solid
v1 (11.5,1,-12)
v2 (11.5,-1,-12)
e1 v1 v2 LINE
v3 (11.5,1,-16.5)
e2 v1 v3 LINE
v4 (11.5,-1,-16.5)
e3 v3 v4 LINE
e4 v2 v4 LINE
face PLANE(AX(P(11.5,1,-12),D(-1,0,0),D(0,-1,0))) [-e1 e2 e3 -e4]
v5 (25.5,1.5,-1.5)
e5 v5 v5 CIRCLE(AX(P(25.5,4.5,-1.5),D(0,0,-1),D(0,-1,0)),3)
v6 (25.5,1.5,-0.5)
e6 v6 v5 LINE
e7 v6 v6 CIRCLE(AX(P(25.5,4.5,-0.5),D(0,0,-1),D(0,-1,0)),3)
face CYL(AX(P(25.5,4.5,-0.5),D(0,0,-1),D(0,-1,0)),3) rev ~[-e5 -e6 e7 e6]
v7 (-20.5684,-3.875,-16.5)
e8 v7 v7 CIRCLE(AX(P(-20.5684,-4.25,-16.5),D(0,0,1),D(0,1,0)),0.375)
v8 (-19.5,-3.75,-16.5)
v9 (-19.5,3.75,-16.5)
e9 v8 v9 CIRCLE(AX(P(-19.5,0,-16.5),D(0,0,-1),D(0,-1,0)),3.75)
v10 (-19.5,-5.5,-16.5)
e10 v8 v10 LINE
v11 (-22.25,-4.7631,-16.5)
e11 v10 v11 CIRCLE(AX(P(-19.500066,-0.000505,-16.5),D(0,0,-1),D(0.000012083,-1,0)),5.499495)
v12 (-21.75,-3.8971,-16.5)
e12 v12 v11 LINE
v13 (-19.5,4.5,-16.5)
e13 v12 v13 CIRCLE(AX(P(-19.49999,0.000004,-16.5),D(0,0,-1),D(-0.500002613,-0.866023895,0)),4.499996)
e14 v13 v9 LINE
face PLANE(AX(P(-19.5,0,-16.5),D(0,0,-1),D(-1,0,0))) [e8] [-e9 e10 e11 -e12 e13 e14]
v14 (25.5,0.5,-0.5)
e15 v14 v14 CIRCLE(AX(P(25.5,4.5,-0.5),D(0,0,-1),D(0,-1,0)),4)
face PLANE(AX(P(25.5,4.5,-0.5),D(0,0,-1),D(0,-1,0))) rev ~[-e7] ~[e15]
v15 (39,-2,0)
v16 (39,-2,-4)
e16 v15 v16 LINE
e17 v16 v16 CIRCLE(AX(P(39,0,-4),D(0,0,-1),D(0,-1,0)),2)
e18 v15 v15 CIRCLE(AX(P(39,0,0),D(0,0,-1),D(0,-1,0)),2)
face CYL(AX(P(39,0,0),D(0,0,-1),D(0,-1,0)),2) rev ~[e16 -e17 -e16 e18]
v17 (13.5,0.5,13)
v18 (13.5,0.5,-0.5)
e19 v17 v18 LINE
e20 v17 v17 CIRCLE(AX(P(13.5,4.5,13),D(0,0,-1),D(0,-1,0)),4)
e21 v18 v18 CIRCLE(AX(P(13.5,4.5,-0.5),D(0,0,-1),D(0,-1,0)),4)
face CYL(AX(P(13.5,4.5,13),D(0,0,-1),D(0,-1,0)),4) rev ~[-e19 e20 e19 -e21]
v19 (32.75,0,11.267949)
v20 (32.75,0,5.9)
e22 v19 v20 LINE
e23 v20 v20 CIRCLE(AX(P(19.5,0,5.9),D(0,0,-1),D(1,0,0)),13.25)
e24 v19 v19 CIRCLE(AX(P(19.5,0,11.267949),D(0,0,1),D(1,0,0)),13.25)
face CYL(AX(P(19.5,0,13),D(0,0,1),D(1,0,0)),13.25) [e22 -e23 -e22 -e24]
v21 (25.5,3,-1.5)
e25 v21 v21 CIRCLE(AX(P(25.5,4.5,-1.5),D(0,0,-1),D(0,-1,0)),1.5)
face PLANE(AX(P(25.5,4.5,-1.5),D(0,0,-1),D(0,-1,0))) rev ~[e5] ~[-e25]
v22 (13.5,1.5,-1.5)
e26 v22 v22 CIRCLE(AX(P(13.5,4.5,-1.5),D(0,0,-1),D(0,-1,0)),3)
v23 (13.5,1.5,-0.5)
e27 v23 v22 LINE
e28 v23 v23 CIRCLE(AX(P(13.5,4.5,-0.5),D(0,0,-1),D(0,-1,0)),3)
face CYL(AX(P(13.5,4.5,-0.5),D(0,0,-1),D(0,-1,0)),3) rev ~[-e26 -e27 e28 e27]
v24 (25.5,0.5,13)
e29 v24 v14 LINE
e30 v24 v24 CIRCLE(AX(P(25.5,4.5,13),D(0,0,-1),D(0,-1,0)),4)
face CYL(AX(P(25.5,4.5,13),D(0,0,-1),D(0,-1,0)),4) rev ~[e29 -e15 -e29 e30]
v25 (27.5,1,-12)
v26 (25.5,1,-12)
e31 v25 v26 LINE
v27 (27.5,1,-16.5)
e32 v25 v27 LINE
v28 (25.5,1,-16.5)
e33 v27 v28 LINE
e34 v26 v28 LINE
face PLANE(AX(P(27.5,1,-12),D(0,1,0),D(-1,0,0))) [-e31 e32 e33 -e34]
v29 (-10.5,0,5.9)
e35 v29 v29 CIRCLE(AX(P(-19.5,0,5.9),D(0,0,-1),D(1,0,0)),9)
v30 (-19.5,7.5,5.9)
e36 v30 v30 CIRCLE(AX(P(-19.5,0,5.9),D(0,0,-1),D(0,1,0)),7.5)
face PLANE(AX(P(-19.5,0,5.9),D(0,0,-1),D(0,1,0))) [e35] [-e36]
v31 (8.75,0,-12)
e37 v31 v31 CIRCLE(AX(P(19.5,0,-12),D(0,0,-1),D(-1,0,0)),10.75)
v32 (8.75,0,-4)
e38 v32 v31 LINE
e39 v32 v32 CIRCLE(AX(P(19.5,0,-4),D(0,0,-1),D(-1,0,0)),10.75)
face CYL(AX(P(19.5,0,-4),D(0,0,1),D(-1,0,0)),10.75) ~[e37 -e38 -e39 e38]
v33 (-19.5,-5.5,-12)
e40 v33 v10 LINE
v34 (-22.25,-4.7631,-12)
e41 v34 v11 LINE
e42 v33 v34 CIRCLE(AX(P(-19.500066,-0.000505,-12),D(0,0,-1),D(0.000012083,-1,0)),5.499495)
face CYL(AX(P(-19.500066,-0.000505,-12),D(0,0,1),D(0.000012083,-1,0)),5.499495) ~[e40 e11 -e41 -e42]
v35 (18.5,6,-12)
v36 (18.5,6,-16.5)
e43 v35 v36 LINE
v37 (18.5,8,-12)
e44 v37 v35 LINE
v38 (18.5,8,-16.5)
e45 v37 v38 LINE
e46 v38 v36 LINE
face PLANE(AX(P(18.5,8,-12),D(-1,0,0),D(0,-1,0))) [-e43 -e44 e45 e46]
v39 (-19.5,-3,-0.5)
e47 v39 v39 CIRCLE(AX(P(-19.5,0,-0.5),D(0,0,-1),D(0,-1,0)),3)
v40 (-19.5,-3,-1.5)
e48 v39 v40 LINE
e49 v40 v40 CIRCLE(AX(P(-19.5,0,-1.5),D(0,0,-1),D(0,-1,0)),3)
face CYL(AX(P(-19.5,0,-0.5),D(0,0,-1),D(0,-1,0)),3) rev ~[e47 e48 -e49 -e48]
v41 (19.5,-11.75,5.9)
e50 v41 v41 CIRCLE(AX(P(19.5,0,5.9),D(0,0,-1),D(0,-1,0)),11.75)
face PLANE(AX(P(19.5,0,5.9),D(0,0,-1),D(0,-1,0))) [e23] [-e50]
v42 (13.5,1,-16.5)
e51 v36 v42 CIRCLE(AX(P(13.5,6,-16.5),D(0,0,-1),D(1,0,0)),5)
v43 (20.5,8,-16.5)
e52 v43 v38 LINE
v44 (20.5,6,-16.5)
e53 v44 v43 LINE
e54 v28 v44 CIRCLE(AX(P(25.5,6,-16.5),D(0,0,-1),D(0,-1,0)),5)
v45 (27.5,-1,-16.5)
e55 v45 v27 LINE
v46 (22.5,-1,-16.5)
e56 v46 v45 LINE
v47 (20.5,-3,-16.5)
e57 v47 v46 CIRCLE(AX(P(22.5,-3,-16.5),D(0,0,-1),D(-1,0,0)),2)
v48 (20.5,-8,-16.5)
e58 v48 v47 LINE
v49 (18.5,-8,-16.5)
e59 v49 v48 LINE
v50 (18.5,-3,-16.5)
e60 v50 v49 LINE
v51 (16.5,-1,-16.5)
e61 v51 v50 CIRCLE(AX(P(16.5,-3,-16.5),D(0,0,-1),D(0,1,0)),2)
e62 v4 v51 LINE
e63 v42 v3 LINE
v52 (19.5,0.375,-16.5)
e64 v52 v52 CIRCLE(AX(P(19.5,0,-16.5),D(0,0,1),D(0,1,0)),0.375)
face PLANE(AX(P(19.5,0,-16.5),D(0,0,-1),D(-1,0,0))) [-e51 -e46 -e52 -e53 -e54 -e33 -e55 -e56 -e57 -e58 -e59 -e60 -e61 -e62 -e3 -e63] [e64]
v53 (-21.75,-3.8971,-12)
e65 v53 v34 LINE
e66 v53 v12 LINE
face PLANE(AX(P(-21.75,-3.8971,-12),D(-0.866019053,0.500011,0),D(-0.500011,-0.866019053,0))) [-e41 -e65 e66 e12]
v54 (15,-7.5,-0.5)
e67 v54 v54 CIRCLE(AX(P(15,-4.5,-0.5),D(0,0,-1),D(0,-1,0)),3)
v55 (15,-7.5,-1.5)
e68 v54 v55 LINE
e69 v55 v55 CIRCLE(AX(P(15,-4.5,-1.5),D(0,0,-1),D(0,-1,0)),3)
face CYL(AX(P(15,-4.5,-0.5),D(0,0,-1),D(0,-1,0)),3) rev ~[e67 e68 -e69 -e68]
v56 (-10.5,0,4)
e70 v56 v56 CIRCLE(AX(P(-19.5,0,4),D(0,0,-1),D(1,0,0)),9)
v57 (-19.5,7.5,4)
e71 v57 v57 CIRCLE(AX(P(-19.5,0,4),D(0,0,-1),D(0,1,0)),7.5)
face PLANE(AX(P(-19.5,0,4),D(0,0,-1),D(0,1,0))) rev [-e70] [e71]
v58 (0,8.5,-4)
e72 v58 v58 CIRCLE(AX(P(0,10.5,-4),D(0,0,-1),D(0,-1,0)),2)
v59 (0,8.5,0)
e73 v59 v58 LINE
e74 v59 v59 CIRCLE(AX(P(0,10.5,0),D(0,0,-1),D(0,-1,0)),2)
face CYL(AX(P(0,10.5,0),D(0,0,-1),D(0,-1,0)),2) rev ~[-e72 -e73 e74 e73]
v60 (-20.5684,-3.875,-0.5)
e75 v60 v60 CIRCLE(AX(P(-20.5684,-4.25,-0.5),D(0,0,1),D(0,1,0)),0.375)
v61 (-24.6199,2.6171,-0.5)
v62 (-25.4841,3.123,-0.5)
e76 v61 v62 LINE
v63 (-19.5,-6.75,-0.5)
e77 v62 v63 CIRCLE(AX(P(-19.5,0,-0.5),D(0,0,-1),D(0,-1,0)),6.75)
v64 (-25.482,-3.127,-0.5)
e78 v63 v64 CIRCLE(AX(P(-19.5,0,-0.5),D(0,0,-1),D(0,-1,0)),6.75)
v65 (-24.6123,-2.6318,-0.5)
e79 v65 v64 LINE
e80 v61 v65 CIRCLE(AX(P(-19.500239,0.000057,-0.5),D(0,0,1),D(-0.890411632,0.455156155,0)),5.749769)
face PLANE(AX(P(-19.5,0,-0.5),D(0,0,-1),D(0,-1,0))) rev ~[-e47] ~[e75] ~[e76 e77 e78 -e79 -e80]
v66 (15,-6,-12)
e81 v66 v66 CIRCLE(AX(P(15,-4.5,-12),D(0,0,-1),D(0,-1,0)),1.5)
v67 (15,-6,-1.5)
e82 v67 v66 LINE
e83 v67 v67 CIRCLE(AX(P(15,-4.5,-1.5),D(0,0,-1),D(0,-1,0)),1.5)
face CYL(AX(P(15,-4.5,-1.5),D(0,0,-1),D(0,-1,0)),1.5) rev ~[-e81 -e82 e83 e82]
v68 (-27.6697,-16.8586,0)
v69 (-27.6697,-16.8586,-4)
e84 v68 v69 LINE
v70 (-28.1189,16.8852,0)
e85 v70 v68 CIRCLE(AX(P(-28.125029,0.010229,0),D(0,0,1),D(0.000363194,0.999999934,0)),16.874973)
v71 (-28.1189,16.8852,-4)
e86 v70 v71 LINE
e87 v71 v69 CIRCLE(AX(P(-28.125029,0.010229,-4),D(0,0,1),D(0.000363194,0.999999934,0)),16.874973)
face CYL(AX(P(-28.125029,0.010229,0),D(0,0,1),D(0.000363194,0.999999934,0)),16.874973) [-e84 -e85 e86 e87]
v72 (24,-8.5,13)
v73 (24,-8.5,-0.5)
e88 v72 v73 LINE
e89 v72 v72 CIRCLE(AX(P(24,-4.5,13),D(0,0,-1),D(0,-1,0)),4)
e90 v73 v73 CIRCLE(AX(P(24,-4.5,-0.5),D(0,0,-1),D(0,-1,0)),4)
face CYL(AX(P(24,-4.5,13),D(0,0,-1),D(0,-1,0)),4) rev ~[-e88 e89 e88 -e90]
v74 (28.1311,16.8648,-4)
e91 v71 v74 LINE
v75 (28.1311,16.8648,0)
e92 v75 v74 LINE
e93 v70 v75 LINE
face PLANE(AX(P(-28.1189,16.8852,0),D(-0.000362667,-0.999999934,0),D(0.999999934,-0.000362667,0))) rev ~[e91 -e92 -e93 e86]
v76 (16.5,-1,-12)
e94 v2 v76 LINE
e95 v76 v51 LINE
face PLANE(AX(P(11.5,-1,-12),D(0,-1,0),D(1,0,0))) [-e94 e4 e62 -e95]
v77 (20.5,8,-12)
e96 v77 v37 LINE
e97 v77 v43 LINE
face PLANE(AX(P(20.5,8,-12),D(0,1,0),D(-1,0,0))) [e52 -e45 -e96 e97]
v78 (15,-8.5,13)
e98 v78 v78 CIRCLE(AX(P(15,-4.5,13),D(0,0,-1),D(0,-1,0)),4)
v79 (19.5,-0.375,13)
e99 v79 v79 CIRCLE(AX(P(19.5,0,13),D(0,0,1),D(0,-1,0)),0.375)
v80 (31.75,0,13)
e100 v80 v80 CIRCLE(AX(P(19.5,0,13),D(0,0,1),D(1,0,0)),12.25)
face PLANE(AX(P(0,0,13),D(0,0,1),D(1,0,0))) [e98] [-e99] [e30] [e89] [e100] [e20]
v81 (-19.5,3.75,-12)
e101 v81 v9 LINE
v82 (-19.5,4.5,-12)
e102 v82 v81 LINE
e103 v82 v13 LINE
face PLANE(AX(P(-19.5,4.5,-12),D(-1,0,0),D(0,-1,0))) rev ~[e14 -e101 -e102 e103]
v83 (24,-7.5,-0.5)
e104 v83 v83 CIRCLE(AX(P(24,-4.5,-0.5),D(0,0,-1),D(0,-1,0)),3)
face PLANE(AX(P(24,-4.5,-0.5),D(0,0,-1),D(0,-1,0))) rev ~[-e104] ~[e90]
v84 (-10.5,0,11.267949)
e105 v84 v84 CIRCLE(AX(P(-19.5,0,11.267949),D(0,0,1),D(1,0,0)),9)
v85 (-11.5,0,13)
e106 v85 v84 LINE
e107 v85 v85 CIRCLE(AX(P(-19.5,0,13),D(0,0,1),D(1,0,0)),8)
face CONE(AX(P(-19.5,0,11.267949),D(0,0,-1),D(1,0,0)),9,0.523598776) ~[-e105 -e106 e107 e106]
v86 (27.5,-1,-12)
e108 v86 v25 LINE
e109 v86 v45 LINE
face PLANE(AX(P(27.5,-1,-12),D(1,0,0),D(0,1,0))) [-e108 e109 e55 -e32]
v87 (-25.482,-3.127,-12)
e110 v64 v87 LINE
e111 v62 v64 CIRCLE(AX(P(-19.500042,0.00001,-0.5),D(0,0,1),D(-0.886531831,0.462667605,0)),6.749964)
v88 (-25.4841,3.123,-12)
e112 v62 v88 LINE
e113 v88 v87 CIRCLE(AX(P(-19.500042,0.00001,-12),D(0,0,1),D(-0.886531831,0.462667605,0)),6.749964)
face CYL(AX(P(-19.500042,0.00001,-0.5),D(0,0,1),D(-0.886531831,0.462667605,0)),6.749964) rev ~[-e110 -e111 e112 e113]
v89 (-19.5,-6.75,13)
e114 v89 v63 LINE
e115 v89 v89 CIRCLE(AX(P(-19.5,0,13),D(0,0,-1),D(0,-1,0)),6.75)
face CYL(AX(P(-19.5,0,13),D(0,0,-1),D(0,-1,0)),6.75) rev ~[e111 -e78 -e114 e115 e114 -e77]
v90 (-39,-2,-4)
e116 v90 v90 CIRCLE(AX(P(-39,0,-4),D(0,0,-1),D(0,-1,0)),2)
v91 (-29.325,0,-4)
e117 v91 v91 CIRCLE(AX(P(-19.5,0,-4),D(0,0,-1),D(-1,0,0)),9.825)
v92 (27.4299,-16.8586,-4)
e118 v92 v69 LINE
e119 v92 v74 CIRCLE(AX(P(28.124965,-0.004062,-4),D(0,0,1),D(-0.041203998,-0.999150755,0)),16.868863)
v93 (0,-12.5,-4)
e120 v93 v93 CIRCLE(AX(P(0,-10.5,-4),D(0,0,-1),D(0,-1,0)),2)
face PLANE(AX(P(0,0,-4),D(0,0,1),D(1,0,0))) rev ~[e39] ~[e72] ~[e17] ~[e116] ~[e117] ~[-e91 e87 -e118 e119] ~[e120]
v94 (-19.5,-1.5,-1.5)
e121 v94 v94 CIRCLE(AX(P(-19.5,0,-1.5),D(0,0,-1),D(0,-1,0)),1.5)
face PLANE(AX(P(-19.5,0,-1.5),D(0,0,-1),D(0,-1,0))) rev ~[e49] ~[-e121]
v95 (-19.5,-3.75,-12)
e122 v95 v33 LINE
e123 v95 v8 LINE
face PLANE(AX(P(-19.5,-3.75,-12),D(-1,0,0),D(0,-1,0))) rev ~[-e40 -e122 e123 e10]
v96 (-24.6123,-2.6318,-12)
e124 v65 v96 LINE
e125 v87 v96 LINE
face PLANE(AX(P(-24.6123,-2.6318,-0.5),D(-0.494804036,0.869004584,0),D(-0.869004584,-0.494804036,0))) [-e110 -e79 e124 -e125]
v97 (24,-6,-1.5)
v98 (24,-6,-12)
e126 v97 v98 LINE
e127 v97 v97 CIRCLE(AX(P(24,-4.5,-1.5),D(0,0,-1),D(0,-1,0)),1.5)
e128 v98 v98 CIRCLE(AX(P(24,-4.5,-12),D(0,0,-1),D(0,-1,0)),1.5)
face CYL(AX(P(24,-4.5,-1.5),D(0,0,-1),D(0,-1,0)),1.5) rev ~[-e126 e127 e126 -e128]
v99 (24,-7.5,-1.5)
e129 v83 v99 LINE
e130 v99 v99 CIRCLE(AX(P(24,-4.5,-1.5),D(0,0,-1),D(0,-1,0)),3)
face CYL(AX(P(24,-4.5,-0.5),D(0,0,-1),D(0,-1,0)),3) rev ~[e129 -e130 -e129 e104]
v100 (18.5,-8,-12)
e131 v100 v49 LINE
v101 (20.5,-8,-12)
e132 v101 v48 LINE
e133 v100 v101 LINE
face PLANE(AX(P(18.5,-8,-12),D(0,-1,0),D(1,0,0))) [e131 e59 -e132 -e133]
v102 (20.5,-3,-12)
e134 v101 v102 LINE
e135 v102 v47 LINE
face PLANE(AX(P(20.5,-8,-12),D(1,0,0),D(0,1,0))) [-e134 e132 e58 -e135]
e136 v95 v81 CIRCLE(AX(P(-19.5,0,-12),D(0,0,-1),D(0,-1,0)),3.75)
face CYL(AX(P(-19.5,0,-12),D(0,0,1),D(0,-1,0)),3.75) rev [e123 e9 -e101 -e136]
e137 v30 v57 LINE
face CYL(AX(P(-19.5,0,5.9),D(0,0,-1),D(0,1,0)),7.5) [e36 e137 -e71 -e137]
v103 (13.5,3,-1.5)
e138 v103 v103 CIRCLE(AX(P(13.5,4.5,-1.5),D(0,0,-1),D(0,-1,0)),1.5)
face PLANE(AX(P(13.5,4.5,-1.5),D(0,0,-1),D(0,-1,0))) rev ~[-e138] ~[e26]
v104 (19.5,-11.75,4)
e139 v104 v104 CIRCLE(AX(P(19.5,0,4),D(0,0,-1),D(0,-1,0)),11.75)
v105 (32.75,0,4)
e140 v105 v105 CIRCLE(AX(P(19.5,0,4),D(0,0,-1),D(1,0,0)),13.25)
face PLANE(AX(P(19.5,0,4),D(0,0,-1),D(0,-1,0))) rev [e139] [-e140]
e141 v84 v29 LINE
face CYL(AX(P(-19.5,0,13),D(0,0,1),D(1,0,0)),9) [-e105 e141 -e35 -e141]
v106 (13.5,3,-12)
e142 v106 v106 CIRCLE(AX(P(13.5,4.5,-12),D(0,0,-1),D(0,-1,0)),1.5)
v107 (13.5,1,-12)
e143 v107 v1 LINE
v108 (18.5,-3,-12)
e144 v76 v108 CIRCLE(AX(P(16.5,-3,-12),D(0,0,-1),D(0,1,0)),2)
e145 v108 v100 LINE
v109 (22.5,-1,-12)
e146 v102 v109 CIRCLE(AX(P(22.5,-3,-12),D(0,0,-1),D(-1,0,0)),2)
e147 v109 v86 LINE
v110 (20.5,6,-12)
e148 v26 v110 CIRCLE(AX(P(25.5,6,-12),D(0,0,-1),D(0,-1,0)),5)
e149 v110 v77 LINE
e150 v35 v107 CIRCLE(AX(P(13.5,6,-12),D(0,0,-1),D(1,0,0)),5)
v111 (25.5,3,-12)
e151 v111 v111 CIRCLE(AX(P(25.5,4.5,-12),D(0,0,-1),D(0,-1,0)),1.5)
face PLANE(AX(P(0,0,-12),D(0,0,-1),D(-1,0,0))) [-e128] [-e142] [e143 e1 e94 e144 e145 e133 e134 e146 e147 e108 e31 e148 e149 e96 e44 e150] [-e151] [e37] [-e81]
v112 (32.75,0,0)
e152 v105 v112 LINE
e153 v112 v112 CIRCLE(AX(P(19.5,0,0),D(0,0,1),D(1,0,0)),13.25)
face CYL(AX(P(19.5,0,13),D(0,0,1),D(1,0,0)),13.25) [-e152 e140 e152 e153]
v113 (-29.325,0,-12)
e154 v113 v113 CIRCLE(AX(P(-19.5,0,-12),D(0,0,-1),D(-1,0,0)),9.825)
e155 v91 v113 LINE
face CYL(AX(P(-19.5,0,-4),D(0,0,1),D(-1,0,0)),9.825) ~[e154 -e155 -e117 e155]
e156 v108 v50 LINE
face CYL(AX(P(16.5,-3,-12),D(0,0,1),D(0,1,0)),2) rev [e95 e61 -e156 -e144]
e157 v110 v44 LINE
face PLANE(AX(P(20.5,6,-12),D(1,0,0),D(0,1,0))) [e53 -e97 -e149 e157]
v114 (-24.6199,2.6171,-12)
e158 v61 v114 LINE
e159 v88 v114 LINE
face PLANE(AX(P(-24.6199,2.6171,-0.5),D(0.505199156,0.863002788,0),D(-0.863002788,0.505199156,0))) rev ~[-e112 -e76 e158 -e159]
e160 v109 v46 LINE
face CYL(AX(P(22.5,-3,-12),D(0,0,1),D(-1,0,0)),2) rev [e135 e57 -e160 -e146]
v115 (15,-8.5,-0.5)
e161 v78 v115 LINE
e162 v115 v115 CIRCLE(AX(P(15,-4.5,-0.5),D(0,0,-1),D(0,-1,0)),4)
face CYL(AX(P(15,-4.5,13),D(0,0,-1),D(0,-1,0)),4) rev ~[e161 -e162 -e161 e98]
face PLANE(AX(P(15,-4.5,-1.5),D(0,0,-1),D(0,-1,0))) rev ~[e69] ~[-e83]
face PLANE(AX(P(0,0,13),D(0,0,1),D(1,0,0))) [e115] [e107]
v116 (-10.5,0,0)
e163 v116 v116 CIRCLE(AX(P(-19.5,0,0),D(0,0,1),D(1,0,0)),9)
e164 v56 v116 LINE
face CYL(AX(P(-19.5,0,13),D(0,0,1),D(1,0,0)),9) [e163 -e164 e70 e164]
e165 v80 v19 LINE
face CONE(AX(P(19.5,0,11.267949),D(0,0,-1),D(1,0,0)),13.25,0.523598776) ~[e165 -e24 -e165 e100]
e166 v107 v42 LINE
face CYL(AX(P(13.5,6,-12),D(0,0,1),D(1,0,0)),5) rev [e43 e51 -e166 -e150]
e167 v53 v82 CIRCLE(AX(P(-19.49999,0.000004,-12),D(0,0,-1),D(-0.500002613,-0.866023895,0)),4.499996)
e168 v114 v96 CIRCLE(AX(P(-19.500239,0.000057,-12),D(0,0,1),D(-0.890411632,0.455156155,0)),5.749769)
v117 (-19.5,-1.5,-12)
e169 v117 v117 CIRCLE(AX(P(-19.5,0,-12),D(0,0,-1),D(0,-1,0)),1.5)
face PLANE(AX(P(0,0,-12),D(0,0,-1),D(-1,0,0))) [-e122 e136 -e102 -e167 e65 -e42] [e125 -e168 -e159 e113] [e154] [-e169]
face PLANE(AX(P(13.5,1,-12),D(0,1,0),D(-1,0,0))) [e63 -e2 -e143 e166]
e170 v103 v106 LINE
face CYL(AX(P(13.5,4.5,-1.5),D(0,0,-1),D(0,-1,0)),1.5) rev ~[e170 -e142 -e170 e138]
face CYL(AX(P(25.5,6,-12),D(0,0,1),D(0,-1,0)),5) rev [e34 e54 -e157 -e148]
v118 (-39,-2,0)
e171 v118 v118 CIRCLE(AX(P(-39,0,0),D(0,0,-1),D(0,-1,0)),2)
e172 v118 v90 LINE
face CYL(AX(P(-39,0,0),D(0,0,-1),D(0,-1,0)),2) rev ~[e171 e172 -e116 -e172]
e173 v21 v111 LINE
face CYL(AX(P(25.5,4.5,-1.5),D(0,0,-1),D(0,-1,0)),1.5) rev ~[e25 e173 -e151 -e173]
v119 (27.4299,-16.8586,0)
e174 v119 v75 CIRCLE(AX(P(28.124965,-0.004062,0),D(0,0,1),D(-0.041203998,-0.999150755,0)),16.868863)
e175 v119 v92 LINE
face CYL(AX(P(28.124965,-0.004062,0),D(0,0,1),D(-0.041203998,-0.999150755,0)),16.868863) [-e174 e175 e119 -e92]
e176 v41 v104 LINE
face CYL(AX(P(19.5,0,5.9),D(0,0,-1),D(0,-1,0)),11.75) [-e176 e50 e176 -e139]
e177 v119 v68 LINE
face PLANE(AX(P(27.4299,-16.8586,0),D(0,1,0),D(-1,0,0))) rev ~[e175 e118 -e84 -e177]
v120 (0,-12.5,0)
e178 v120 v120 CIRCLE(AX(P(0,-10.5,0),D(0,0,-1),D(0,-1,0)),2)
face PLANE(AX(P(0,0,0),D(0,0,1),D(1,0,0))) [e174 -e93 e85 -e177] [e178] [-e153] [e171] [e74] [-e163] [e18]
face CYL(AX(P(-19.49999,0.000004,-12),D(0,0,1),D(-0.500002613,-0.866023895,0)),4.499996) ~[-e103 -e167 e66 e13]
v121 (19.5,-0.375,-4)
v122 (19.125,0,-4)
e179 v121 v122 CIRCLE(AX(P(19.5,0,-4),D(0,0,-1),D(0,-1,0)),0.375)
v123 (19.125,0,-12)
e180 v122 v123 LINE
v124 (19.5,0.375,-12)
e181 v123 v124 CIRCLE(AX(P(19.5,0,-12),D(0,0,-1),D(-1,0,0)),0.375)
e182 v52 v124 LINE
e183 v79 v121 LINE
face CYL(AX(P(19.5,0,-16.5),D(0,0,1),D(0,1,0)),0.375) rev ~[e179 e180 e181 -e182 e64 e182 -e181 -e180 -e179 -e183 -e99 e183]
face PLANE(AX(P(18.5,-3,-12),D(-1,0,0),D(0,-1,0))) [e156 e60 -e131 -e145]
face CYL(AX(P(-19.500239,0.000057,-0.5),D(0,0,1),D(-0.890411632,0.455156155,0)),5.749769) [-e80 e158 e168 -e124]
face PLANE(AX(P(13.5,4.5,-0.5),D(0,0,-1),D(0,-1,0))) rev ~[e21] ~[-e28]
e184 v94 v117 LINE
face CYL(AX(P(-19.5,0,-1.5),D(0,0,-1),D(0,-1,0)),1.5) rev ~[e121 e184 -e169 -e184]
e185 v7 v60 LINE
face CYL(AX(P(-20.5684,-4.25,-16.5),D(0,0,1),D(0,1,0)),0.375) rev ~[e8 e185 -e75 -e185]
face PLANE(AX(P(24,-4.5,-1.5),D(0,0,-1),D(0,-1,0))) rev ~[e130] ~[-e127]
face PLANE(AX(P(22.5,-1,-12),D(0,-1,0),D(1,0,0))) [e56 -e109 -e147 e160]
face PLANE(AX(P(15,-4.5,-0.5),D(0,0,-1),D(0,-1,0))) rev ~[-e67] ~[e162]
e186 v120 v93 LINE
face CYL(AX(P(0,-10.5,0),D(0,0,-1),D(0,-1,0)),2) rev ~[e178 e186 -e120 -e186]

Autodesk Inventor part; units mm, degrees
sketch "Slot" plane through (0, 0, 0) normal (0, 0, 1) x (1, 0, 0)
  line L0 (-28.1189, 16.8852) -> (28.1311, 16.8648)
  line L1 (44.9939, -0.0102) -> (44.9939, -0.0102)
  line L2 (27.4299, -16.8586) -> (-27.6697, -16.8586)
  line L3 (-45, 0.0102) -> (-45, 0.0102)
  arc A0 (-28.1189, 16.8852) -> (-27.6697, -16.8586) centre (-28.125, 0.0102) ccw
  arc A1 (27.4299, -16.8586) -> (28.1311, 16.8648) centre (28.125, -0.0041) ccw
  point P0 (0, 0)
  point P1 (-45, 16.8914)
  point P2 (45, 16.8586)
  point P3 (-45, -16.8586)
  dimension "d7" = 4
  dimension "d8" = 4
  dimension "d9" = 4
  dimension "d10" = 4
  dimension "d11" = 78
  dimension "d16" = 21
  dimension "d17" = 39
  dimension "d0" = 90
  dimension "d1" = 33.75
  dimension "d2" = 16.875
  dimension "d4" = 16.875
  dimension "d6" = 90
  dimension "d19" = 56.25
  dimension "d20" = 28.125
sketch "Holes" plane through (0, 0, 0) normal (0, 0, 1) x (1, 0, 0)
  circle A0 centre (-39, 0) radius 2
  circle A1 centre (39, 0) radius 2
  circle A2 centre (0, -10.5) radius 2
  circle A3 centre (0, 10.5) radius 2
  point P0 (0, 0)
  point P1 (-3.3578, 23.5)
  dimension "d7" = 4
  dimension "d8" = 4
  dimension "d9" = 4
  dimension "d10" = 4
  dimension "d11" = 78
  dimension "d16" = 21
  dimension "d17" = 39
extrude "Extrusion1" add sketch "Slot" against normal blind 4
hole "Hole1" at (0, 10.5, 0) at (39, 0, 0) at (0, -10.5, 0) at (-39, 0, 0) direction (0, 0, -1) diameter 4 end through all
ref_plane "Work Plane1" through (0, 0, 13) normal (0, 0, 1) x (1, 0, 0)
sketch "Socket Outline" plane through (0, 0, 13) normal (0, 0, 1) x (1, 0, 0)
  line L0 (-19.5, 12) -> (19.5, 12) construction
  line L1 (31.5, 0) -> (31.5, 0) construction
  line L2 (19.5, -12) -> (-19.5, -12) construction
  line L3 (-31.5, 0) -> (-31.5, 0) construction
  arc A0 (-19.5, 12) -> (-19.5, -12) centre (-19.5, 0) ccw construction
  arc A1 (19.5, -12) -> (19.5, 12) centre (19.5, 0) ccw construction
  point P0 (0, 0)
  point P1 (-31.5, 12)
  point P2 (31.5, 12)
  point P3 (-31.5, -12)
  dimension "d31" = 63
  dimension "d32" = 24
  dimension "d33" = 12
  dimension "d34" = 12
  dimension "d35" = 63
  dimension "d36" = 39
  dimension "d37" = 19.5
sketch "Small Socket" plane through (0, 0, 13) normal (0, 0, 1) x (1, 0, 0)
  circle A0 centre (-19.5, 0) radius 0.0027
  circle A1 centre (-19.5, 0) radius 9
  circle A2 centre (-39, 0) radius 2 projected
  point P0 (0, 0)
  dimension "d38" = 18
  dimension "d40" = 19.5
  dimension "d43" = 19.5
sketch "Big Socket" plane through (0, 0, 13) normal (0, 0, 1) x (1, 0, 0)
  circle A0 centre (19.5, 0) radius 13.25
  circle A1 centre (39, 0) radius 2 projected
  point P0 (0, 0)
  dimension "d39" = 26.5
  dimension "d41" = 19.5
  dimension "d42" = 19.5
extrude "Extrusion2" add sketch "Small Socket" against normal blind 13 contours A1
extrude "Extrusion3" add sketch "Big Socket" against normal blind 13 contours A0
ref_plane "Work Plane3" through (-19.5, 0, 13) normal (1, 0, 0) x (0, 1, 0)
sketch "Sketch7" plane through (-19.5, 0, 13) normal (1, 0, 0) x (0, 1, 0)
  line L0 (-9, -13) -> (-9, 0) construction
  line L1 (-9, 0) -> (-0.0027, 0) construction
  line L2 (-0.0027, 0) -> (-0.0027, -13) construction
  line L3 (-0.0027, -13) -> (0.0027, -13) construction
  line L4 (0.0027, -13) -> (0.0027, 0) construction
  line L5 (0.0027, 0) -> (9, 0) construction
  line L6 (9, 0) -> (9, -13) construction
  line L7 (9, -13) -> (16.8821, -13) construction
  line L8 (16.8821, -13) -> (16.8821, -17) construction
  line L9 (16.8821, -17) -> (-16.8586, -17) construction
  line L10 (-16.8586, -17) -> (-16.8586, -13) construction
  line L11 (-16.8586, -13) -> (-9, -13) construction
  line L12 (9, -7.1) -> (7.5, -7.1)
  line L13 (7.5, -7.1) -> (7.5, -9)
  line L14 (7.5, -9) -> (9, -9)
  line L15 (9, -9) -> (9, -7.1)
  line L16 (0, 3.4) -> (0, -20.4) projected
  point P0 (0, -13)
  dimension "d53" = 1.5
  dimension "d54" = 1.9
  dimension "d55" = 4
revolve "Revolution2" cut sketch "Sketch7" angle 360 about axis through (-19.5, 0, 13) along (0, 0, -1)
ref_plane "Work Plane4" through (19.5, 0, 13) normal (1, 0, 0) x (0, 1, 0)
sketch "Sketch8" plane through (19.5, 0, 13) normal (1, 0, 0) x (0, 1, 0)
  line L0 (-13.25, -13) -> (-13.25, 0) construction
  line L1 (-13.25, 0) -> (13.25, 0) construction
  line L2 (13.25, 0) -> (13.25, -13) construction
  line L3 (13.25, -13) -> (16.8679, -13) construction
  line L4 (16.8679, -13) -> (16.8679, -17) construction
  line L5 (16.8679, -17) -> (-16.8586, -17) construction
  line L6 (-16.8586, -17) -> (-16.8586, -13) construction
  line L7 (-16.8586, -13) -> (-13.25, -13) construction
  line L8 (-13.25, -7.1) -> (-11.75, -7.1)
  line L9 (-11.75, -7.1) -> (-11.75, -9)
  line L10 (-11.75, -9) -> (-13.25, -9)
  line L11 (-13.25, -9) -> (-13.25, -7.1)
  line L12 (0, 3.4) -> (0, -20.4) projected
  point P0 (0, -13)
  dimension "d57" = 1.5
  dimension "d58" = 1.9
  dimension "d59" = 4
revolve "Revolution3" cut sketch "Sketch8" angle 360 about axis through (19.5, 0, 13) along (0, 0, -1)
ref_plane "Work Plane5" through (0, 0, 13) normal (0, 0, 1) x (1, 0, 0)
sketch "Sketch9" plane through (19.5, 0, 13) normal (0, 0, 1) x (1, 0, 0)
  circle A0 centre (0, 0) radius 13.25 construction
  circle A1 centre (-6, 4.5) radius 4
  circle A2 centre (6, 4.5) radius 4
  circle A3 centre (-4.5, -4.5) radius 4
  circle A4 centre (4.5, -4.5) radius 4
  point P0 (-19.5, 0)
  dimension "d62" = 8
  dimension "d63" = 6
  dimension "d64" = 4.5
  dimension "d65" = 4.5
  dimension "d66" = 4.5
  dimension "d67" = 4.5
  dimension "d68" = 6
  dimension "d69" = 8
  dimension "d70" = 8
  dimension "d71" = 8
  dimension "d72" = 4.5
  dimension "d73" = 4.5
hole "Hole2" at (24, -4.5, 13) at (15, -4.5, 13) at (13.5, 4.5, 13) at (25.5, 4.5, 13) direction (0, 0, -1) diameter 8 depth 13.5
sketch "Sketch10" plane through (19.5, 0, 13) normal (0, 0, 1) x (1, 0, 0)
  circle A0 centre (0, 0) radius 13.25 projected
  circle A1 centre (0, 0) radius 0.375
  point P0 (-19.5, 0)
  dimension "d88" = 0.75
hole "Hole3" at (19.5, 0, 13) direction (0, 0, -1) diameter 0.75 depth 37.75
sketch "Sketch11" plane through (-19.5, 0, 13) normal (0, 0, 1) x (1, 0, 0)
  circle A0 centre (0, 0) radius 9 projected
  point P0 (19.5, 0)
hole "Hole4" at (-19.5, 0, 13) direction (0, 0, -1) diameter 13.5 depth 13.5
chamfer "Chamfer1" distance 1 angle 60 1 edges at (6.25, 0, 13) measured on face at (20.0324, 8.8993, 13)
chamfer "Chamfer2" distance 1 angle 60 1 edges at (-28.5, 0, 13) measured on face at (-11.3536, -0.9892, 13)
sketch "Sketch15" plane through (0, 0, -4) normal (0, 0, -1) x (-1, 0, 0)
  circle A0 centre (-19.5, 0) radius 0.375 projected
  circle A1 centre (-19.5, 0) radius 10.75
  circle A2 centre (19.5, 0) radius 9.825
  circle A3 centre (-19.5, 0) radius 0.375 projected
  circle A4 centre (-19.5, 0) radius 13.25 projected
  point P0 (0, 0)
  dimension "d122" = 21.5
  dimension "d123" = 19.65
  dimension "d124" = 39
extrude "Extrusion4" add sketch "Sketch15" along normal blind 8 contours A1 | A2
sketch "Sketch38" plane through (13.5, 4.5, -0.5) normal (0, 0, 1) x (1, 0, 0)
  circle A0 centre (6, -4.5) radius 0.375 construction
  circle A1 centre (0, 0) radius 4 construction
  circle A2 centre (10.5, -9) radius 4 construction
  circle A3 centre (1.5, -9) radius 4 construction
  circle A4 centre (12, 0) radius 4 construction
  circle A5 centre (-13.5, -15) radius 2 construction
  circle A6 centre (-13.5, 6) radius 2 construction
  circle A7 centre (25.5, -4.5) radius 2 construction
  circle A8 centre (-52.5, -4.5) radius 2 construction
  line L0 (13.9299, -21.3586) -> (-41.1698, -21.3586) construction
  arc A9 (-41.6189, 12.3852) -> (-41.1698, -21.3586) centre (-41.625, -4.4898) ccw construction
  line L1 (-41.6189, 12.3852) -> (14.6311, 12.3648) construction
  arc A10 (13.9299, -21.3586) -> (14.6311, 12.3648) centre (14.625, -4.5041) ccw construction
  circle A11 centre (-33, -4.5) radius 6.75 projected
  point P0 (-13.5, -4.5)
hole "Hole14" at (13.5, 4.5, -0.5) at (25.5, 4.5, -0.5) at (24, -4.5, -0.5) at (15, -4.5, -0.5) at (-19.5, 0, -0.5) direction (0, 0, -1) diameter 6 depth 1
sketch "Sketch39" plane through (24, -4.5, -1.5) normal (0, 0, 1) x (1, 0, 0)
  circle A0 centre (-9, 0) radius 3 construction
  circle A1 centre (1.5, 9) radius 3 construction
  circle A2 centre (-10.5, 9) radius 3 construction
  circle A3 centre (0, 0) radius 3 construction
  circle A4 centre (-43.5, 4.5) radius 3 construction
  circle A5 centre (-4.5, 4.5) radius 0.375 construction
  circle A6 centre (-24, -6) radius 2 construction
  circle A7 centre (-24, 15) radius 2 construction
  circle A8 centre (15, 4.5) radius 2 construction
  circle A9 centre (-63, 4.5) radius 2 construction
  line L0 (3.4299, -12.3586) -> (-51.6698, -12.3586) construction
  arc A10 (-52.1189, 21.3852) -> (-51.6698, -12.3586) centre (-52.125, 4.5102) ccw construction
  line L1 (-52.1189, 21.3852) -> (4.1311, 21.3648) construction
  arc A11 (3.4299, -12.3586) -> (4.1311, 21.3648) centre (4.125, 4.4959) ccw construction
  point P0 (-24, 4.5)
hole "Hole15" at (13.5, 4.5, -1.5) at (25.5, 4.5, -1.5) at (24, -4.5, -1.5) at (15, -4.5, -1.5) at (-19.5, 0, -1.5) direction (0, 0, -1) diameter 3 end through all
sketch "Sketch40" plane through (19.5, 0, -12) normal (0, 0, -1) x (-1, 0, 0)
  circle A0 centre (0, 0) radius 0.375 construction
  circle A1 centre (4.5, -4.5) radius 1.5 construction
  circle A2 centre (-6, 4.5) radius 1.5 construction
  circle A3 centre (6, 4.5) radius 1.5 construction
  circle A4 centre (-4.5, -4.5) radius 1.5 construction
  circle A5 centre (39, 0) radius 1.5 construction
  circle A6 centre (0, 0) radius 10.75 construction
  circle A7 centre (39, 0) radius 9.825 construction
  circle A8 centre (0, 0) radius 0.375 construction
  line L0 (1, 8) -> (1, 6)
  line L1 (6, 1) -> (8, 1)
  line L2 (8, 1) -> (8, -1)
  line L3 (8, -1) -> (3, -1)
  line L4 (1, -3) -> (1, -8)
  line L5 (1, -8) -> (-1, -8)
  line L6 (-1, -8) -> (-1, -3)
  line L7 (-3, -1) -> (-8, -1)
  line L8 (-8, -1) -> (-8, 1)
  line L9 (-8, 1) -> (-6, 1)
  line L10 (-1, 6) -> (-1, 8)
  line L11 (-1, 8) -> (1, 8)
  arc A9 (-6, 1) -> (-1, 6) centre (-6, 6) ccw
  arc A10 (1, 6) -> (6, 1) centre (6, 6) ccw
  arc A11 (-1, -3) -> (-3, -1) centre (-3, -3) ccw
  arc A12 (3, -1) -> (1, -3) centre (3, -3) ccw
  point P0 (19.5, 0)
  point P1 (1, 1)
  point P2 (1, -1)
  point P3 (-1, -1)
  dimension "d357" = 2
  dimension "d358" = 2
  dimension "d359" = 2
  dimension "d360" = 2
  dimension "d361" = 7
  dimension "d362" = 7
  dimension "d363" = 7
  dimension "d366" = 8
  dimension "d367" = 8
  dimension "d368" = 5
  dimension "d369" = 2
extrude "Extrusion6" add sketch "Sketch40" along normal blind 4.5
sketch "Sketch41" plane through (19.5, 0, -16.5) normal (0, 0, -1) x (-1, 0, 0)
  point P0 (19.5, 0)
  point P1 (0, 0)
hole "Hole16" at (19.5, 0, -16.5) direction (0, 0, 1) diameter 0.75 end through all
sketch "Sketch42" plane through (-19.5, 0, -12) normal (0, 0, -1) x (-1, 0, 0)
  arc A0 (-38, 6) -> (-33, 1) centre (-33, 6) ccw construction
  line L0 (-33, 1) -> (-31, 1) construction
  line L1 (-31, 1) -> (-31, -1) construction
  line L2 (-31, -1) -> (-36, -1) construction
  arc A1 (-36, -1) -> (-38, -3) centre (-36, -3) ccw construction
  line L3 (-38, -3) -> (-38, -8) construction
  line L4 (-38, -8) -> (-40, -8) construction
  line L5 (-40, -8) -> (-40, -3) construction
  arc A2 (-40, -3) -> (-42, -1) centre (-42, -3) ccw construction
  line L6 (-42, -1) -> (-47, -1) construction
  line L7 (-47, -1) -> (-47, 1) construction
  line L8 (-47, 1) -> (-45, 1) construction
  arc A3 (-45, 1) -> (-40, 6) centre (-45, 6) ccw construction
  line L9 (-40, 6) -> (-40, 8) construction
  line L10 (-40, 8) -> (-38, 8) construction
  line L11 (-38, 8) -> (-38, 6) construction
  circle A4 centre (-34.5, -4.5) radius 1.5 construction
  circle A5 centre (-45, 4.5) radius 1.5 construction
  circle A6 centre (-33, 4.5) radius 1.5 construction
  circle A7 centre (-43.5, -4.5) radius 1.5 construction
  circle A8 centre (0, 0) radius 1.5 construction
  circle A9 centre (-39, 0) radius 10.75 construction
  circle A10 centre (0, 0) radius 9.825 construction
  circle A11 centre (-39, 0) radius 0.375 construction
  arc A12 (2.25, -3.8971) -> (0, 4.5) centre (0, 0) ccw
  arc A13 (0, -3.75) -> (0, 3.75) centre (0, 0) ccw
  arc A14 (0, -5.5) -> (2.75, -4.7631) centre (0, 0) ccw
  line L12 (2.25, -3.8971) -> (2.75, -4.7631)
  line L13 (0, 4.5) -> (0, 3.75)
  line L14 (0, -3.75) -> (0, -5.5)
  point P0 (-19.5, 0)
  dimension "d379" = 9
  dimension "d380" = 7.5
  dimension "d381" = 11
extrude "Extrusion7" add sketch "Sketch42" along normal blind 4.5
sketch "Sketch43" plane through (-19.5, 0, -16.5) normal (0, 0, -1) x (-1, 0, 0)
  arc A0 (2.25, -3.8971) -> (0, 4.5) centre (0, 0) ccw construction
  line L0 (2.25, -3.8971) -> (2.75, -4.7631) construction
  arc A1 (0, -5.5) -> (2.75, -4.7631) centre (0, 0) ccw construction
  line L1 (0, -5.5) -> (0, -3.75) construction
  arc A2 (0, -3.75) -> (0, 3.75) centre (0, 0) ccw construction
  line L2 (0, 3.75) -> (0, 4.5) construction
  arc A3 (2.25, -3.8971) -> (0, 4.5) centre (0, 0) ccw construction
  arc A4 (-38, 6) -> (-33, 1) centre (-33, 6) ccw construction
  line L3 (-33, 1) -> (-31, 1) construction
  line L4 (-31, 1) -> (-31, -1) construction
  line L5 (-31, -1) -> (-36, -1) construction
  arc A5 (-36, -1) -> (-38, -3) centre (-36, -3) ccw construction
  line L6 (-38, -3) -> (-38, -8) construction
  line L7 (-38, -8) -> (-40, -8) construction
  line L8 (-40, -8) -> (-40, -3) construction
  arc A6 (-40, -3) -> (-42, -1) centre (-42, -3) ccw construction
  line L9 (-42, -1) -> (-47, -1) construction
  line L10 (-47, -1) -> (-47, 1) construction
  line L11 (-47, 1) -> (-45, 1) construction
  arc A7 (-45, 1) -> (-40, 6) centre (-45, 6) ccw construction
  line L12 (-40, 6) -> (-40, 8) construction
  line L13 (-40, 8) -> (-38, 8) construction
  line L14 (-38, 8) -> (-38, 6) construction
  circle A8 centre (-39, 0) radius 0.375 construction
  point P0 (-19.5, 0)
  point P1 (1.0684, -4.25)
  dimension "d385" = 4.25
hole "Hole17" at (-20.5684, -4.25, -16.5) direction (0, 0, 1) diameter 0.75 end through all
sketch "Sketch44" plane through (-19.5, 0, -0.5) normal (0, 0, 1) x (1, 0, 0)
  arc A0 (-5.1199, 2.6171) -> (-5.1123, -2.6318) centre (0, 0) ccw
  arc A1 (-5.9841, 3.123) -> (-5.982, -3.127) centre (0, 0) ccw
  line L0 (-5.1123, -2.6318) -> (-5.982, -3.127)
  line L1 (-5.1199, 2.6171) -> (-5.9841, 3.123)
  circle A2 centre (0, 0) radius 3 projected
  point P0 (19.5, 0)
  dimension "d393" = 11.5
  dimension "d394" = 13.5
  dimension "d401" = 1
  dimension "d402" = 60
extrude "Extrusion8" cut sketch "Sketch44" against normal through all contours A0 L0 A1 L1
equation "\"d8\" = d7"
equation "\"d9\" = d7"
equation "\"d10\" = d7"
equation "\"d2\" = 0.5 * d1"
equation "\"d4\" = 0.5 * d1"
equation "\"d6\" = d0"
equation "\"d19\" = d0 - 2 * d4"
equation "\"d20\" = 0.5 * d19"
equation "\"d33\" = 0.5 * d32"
equation "\"d34\" = 0.5 * d32"
equation "\"d35\" = d31"
equation "\"d36\" = d31 - 2 * d34"
equation "\"d37\" = 0.5 * d36"
equation "\"d40\" = d41"
equation "\"d43\" = d41"
equation "\"d42\" = d41"
equation "\"d54\" = d58"
equation "\"d65\" = d64"
equation "\"d66\" = d64"
equation "\"d67\" = d64"
equation "\"d68\" = d63"
equation "\"d69\" = d62"
equation "\"d70\" = d62"
equation "\"d71\" = d62"
equation "\"d73\" = d72"
properties part number "Connector" material "ABS Plastic"
